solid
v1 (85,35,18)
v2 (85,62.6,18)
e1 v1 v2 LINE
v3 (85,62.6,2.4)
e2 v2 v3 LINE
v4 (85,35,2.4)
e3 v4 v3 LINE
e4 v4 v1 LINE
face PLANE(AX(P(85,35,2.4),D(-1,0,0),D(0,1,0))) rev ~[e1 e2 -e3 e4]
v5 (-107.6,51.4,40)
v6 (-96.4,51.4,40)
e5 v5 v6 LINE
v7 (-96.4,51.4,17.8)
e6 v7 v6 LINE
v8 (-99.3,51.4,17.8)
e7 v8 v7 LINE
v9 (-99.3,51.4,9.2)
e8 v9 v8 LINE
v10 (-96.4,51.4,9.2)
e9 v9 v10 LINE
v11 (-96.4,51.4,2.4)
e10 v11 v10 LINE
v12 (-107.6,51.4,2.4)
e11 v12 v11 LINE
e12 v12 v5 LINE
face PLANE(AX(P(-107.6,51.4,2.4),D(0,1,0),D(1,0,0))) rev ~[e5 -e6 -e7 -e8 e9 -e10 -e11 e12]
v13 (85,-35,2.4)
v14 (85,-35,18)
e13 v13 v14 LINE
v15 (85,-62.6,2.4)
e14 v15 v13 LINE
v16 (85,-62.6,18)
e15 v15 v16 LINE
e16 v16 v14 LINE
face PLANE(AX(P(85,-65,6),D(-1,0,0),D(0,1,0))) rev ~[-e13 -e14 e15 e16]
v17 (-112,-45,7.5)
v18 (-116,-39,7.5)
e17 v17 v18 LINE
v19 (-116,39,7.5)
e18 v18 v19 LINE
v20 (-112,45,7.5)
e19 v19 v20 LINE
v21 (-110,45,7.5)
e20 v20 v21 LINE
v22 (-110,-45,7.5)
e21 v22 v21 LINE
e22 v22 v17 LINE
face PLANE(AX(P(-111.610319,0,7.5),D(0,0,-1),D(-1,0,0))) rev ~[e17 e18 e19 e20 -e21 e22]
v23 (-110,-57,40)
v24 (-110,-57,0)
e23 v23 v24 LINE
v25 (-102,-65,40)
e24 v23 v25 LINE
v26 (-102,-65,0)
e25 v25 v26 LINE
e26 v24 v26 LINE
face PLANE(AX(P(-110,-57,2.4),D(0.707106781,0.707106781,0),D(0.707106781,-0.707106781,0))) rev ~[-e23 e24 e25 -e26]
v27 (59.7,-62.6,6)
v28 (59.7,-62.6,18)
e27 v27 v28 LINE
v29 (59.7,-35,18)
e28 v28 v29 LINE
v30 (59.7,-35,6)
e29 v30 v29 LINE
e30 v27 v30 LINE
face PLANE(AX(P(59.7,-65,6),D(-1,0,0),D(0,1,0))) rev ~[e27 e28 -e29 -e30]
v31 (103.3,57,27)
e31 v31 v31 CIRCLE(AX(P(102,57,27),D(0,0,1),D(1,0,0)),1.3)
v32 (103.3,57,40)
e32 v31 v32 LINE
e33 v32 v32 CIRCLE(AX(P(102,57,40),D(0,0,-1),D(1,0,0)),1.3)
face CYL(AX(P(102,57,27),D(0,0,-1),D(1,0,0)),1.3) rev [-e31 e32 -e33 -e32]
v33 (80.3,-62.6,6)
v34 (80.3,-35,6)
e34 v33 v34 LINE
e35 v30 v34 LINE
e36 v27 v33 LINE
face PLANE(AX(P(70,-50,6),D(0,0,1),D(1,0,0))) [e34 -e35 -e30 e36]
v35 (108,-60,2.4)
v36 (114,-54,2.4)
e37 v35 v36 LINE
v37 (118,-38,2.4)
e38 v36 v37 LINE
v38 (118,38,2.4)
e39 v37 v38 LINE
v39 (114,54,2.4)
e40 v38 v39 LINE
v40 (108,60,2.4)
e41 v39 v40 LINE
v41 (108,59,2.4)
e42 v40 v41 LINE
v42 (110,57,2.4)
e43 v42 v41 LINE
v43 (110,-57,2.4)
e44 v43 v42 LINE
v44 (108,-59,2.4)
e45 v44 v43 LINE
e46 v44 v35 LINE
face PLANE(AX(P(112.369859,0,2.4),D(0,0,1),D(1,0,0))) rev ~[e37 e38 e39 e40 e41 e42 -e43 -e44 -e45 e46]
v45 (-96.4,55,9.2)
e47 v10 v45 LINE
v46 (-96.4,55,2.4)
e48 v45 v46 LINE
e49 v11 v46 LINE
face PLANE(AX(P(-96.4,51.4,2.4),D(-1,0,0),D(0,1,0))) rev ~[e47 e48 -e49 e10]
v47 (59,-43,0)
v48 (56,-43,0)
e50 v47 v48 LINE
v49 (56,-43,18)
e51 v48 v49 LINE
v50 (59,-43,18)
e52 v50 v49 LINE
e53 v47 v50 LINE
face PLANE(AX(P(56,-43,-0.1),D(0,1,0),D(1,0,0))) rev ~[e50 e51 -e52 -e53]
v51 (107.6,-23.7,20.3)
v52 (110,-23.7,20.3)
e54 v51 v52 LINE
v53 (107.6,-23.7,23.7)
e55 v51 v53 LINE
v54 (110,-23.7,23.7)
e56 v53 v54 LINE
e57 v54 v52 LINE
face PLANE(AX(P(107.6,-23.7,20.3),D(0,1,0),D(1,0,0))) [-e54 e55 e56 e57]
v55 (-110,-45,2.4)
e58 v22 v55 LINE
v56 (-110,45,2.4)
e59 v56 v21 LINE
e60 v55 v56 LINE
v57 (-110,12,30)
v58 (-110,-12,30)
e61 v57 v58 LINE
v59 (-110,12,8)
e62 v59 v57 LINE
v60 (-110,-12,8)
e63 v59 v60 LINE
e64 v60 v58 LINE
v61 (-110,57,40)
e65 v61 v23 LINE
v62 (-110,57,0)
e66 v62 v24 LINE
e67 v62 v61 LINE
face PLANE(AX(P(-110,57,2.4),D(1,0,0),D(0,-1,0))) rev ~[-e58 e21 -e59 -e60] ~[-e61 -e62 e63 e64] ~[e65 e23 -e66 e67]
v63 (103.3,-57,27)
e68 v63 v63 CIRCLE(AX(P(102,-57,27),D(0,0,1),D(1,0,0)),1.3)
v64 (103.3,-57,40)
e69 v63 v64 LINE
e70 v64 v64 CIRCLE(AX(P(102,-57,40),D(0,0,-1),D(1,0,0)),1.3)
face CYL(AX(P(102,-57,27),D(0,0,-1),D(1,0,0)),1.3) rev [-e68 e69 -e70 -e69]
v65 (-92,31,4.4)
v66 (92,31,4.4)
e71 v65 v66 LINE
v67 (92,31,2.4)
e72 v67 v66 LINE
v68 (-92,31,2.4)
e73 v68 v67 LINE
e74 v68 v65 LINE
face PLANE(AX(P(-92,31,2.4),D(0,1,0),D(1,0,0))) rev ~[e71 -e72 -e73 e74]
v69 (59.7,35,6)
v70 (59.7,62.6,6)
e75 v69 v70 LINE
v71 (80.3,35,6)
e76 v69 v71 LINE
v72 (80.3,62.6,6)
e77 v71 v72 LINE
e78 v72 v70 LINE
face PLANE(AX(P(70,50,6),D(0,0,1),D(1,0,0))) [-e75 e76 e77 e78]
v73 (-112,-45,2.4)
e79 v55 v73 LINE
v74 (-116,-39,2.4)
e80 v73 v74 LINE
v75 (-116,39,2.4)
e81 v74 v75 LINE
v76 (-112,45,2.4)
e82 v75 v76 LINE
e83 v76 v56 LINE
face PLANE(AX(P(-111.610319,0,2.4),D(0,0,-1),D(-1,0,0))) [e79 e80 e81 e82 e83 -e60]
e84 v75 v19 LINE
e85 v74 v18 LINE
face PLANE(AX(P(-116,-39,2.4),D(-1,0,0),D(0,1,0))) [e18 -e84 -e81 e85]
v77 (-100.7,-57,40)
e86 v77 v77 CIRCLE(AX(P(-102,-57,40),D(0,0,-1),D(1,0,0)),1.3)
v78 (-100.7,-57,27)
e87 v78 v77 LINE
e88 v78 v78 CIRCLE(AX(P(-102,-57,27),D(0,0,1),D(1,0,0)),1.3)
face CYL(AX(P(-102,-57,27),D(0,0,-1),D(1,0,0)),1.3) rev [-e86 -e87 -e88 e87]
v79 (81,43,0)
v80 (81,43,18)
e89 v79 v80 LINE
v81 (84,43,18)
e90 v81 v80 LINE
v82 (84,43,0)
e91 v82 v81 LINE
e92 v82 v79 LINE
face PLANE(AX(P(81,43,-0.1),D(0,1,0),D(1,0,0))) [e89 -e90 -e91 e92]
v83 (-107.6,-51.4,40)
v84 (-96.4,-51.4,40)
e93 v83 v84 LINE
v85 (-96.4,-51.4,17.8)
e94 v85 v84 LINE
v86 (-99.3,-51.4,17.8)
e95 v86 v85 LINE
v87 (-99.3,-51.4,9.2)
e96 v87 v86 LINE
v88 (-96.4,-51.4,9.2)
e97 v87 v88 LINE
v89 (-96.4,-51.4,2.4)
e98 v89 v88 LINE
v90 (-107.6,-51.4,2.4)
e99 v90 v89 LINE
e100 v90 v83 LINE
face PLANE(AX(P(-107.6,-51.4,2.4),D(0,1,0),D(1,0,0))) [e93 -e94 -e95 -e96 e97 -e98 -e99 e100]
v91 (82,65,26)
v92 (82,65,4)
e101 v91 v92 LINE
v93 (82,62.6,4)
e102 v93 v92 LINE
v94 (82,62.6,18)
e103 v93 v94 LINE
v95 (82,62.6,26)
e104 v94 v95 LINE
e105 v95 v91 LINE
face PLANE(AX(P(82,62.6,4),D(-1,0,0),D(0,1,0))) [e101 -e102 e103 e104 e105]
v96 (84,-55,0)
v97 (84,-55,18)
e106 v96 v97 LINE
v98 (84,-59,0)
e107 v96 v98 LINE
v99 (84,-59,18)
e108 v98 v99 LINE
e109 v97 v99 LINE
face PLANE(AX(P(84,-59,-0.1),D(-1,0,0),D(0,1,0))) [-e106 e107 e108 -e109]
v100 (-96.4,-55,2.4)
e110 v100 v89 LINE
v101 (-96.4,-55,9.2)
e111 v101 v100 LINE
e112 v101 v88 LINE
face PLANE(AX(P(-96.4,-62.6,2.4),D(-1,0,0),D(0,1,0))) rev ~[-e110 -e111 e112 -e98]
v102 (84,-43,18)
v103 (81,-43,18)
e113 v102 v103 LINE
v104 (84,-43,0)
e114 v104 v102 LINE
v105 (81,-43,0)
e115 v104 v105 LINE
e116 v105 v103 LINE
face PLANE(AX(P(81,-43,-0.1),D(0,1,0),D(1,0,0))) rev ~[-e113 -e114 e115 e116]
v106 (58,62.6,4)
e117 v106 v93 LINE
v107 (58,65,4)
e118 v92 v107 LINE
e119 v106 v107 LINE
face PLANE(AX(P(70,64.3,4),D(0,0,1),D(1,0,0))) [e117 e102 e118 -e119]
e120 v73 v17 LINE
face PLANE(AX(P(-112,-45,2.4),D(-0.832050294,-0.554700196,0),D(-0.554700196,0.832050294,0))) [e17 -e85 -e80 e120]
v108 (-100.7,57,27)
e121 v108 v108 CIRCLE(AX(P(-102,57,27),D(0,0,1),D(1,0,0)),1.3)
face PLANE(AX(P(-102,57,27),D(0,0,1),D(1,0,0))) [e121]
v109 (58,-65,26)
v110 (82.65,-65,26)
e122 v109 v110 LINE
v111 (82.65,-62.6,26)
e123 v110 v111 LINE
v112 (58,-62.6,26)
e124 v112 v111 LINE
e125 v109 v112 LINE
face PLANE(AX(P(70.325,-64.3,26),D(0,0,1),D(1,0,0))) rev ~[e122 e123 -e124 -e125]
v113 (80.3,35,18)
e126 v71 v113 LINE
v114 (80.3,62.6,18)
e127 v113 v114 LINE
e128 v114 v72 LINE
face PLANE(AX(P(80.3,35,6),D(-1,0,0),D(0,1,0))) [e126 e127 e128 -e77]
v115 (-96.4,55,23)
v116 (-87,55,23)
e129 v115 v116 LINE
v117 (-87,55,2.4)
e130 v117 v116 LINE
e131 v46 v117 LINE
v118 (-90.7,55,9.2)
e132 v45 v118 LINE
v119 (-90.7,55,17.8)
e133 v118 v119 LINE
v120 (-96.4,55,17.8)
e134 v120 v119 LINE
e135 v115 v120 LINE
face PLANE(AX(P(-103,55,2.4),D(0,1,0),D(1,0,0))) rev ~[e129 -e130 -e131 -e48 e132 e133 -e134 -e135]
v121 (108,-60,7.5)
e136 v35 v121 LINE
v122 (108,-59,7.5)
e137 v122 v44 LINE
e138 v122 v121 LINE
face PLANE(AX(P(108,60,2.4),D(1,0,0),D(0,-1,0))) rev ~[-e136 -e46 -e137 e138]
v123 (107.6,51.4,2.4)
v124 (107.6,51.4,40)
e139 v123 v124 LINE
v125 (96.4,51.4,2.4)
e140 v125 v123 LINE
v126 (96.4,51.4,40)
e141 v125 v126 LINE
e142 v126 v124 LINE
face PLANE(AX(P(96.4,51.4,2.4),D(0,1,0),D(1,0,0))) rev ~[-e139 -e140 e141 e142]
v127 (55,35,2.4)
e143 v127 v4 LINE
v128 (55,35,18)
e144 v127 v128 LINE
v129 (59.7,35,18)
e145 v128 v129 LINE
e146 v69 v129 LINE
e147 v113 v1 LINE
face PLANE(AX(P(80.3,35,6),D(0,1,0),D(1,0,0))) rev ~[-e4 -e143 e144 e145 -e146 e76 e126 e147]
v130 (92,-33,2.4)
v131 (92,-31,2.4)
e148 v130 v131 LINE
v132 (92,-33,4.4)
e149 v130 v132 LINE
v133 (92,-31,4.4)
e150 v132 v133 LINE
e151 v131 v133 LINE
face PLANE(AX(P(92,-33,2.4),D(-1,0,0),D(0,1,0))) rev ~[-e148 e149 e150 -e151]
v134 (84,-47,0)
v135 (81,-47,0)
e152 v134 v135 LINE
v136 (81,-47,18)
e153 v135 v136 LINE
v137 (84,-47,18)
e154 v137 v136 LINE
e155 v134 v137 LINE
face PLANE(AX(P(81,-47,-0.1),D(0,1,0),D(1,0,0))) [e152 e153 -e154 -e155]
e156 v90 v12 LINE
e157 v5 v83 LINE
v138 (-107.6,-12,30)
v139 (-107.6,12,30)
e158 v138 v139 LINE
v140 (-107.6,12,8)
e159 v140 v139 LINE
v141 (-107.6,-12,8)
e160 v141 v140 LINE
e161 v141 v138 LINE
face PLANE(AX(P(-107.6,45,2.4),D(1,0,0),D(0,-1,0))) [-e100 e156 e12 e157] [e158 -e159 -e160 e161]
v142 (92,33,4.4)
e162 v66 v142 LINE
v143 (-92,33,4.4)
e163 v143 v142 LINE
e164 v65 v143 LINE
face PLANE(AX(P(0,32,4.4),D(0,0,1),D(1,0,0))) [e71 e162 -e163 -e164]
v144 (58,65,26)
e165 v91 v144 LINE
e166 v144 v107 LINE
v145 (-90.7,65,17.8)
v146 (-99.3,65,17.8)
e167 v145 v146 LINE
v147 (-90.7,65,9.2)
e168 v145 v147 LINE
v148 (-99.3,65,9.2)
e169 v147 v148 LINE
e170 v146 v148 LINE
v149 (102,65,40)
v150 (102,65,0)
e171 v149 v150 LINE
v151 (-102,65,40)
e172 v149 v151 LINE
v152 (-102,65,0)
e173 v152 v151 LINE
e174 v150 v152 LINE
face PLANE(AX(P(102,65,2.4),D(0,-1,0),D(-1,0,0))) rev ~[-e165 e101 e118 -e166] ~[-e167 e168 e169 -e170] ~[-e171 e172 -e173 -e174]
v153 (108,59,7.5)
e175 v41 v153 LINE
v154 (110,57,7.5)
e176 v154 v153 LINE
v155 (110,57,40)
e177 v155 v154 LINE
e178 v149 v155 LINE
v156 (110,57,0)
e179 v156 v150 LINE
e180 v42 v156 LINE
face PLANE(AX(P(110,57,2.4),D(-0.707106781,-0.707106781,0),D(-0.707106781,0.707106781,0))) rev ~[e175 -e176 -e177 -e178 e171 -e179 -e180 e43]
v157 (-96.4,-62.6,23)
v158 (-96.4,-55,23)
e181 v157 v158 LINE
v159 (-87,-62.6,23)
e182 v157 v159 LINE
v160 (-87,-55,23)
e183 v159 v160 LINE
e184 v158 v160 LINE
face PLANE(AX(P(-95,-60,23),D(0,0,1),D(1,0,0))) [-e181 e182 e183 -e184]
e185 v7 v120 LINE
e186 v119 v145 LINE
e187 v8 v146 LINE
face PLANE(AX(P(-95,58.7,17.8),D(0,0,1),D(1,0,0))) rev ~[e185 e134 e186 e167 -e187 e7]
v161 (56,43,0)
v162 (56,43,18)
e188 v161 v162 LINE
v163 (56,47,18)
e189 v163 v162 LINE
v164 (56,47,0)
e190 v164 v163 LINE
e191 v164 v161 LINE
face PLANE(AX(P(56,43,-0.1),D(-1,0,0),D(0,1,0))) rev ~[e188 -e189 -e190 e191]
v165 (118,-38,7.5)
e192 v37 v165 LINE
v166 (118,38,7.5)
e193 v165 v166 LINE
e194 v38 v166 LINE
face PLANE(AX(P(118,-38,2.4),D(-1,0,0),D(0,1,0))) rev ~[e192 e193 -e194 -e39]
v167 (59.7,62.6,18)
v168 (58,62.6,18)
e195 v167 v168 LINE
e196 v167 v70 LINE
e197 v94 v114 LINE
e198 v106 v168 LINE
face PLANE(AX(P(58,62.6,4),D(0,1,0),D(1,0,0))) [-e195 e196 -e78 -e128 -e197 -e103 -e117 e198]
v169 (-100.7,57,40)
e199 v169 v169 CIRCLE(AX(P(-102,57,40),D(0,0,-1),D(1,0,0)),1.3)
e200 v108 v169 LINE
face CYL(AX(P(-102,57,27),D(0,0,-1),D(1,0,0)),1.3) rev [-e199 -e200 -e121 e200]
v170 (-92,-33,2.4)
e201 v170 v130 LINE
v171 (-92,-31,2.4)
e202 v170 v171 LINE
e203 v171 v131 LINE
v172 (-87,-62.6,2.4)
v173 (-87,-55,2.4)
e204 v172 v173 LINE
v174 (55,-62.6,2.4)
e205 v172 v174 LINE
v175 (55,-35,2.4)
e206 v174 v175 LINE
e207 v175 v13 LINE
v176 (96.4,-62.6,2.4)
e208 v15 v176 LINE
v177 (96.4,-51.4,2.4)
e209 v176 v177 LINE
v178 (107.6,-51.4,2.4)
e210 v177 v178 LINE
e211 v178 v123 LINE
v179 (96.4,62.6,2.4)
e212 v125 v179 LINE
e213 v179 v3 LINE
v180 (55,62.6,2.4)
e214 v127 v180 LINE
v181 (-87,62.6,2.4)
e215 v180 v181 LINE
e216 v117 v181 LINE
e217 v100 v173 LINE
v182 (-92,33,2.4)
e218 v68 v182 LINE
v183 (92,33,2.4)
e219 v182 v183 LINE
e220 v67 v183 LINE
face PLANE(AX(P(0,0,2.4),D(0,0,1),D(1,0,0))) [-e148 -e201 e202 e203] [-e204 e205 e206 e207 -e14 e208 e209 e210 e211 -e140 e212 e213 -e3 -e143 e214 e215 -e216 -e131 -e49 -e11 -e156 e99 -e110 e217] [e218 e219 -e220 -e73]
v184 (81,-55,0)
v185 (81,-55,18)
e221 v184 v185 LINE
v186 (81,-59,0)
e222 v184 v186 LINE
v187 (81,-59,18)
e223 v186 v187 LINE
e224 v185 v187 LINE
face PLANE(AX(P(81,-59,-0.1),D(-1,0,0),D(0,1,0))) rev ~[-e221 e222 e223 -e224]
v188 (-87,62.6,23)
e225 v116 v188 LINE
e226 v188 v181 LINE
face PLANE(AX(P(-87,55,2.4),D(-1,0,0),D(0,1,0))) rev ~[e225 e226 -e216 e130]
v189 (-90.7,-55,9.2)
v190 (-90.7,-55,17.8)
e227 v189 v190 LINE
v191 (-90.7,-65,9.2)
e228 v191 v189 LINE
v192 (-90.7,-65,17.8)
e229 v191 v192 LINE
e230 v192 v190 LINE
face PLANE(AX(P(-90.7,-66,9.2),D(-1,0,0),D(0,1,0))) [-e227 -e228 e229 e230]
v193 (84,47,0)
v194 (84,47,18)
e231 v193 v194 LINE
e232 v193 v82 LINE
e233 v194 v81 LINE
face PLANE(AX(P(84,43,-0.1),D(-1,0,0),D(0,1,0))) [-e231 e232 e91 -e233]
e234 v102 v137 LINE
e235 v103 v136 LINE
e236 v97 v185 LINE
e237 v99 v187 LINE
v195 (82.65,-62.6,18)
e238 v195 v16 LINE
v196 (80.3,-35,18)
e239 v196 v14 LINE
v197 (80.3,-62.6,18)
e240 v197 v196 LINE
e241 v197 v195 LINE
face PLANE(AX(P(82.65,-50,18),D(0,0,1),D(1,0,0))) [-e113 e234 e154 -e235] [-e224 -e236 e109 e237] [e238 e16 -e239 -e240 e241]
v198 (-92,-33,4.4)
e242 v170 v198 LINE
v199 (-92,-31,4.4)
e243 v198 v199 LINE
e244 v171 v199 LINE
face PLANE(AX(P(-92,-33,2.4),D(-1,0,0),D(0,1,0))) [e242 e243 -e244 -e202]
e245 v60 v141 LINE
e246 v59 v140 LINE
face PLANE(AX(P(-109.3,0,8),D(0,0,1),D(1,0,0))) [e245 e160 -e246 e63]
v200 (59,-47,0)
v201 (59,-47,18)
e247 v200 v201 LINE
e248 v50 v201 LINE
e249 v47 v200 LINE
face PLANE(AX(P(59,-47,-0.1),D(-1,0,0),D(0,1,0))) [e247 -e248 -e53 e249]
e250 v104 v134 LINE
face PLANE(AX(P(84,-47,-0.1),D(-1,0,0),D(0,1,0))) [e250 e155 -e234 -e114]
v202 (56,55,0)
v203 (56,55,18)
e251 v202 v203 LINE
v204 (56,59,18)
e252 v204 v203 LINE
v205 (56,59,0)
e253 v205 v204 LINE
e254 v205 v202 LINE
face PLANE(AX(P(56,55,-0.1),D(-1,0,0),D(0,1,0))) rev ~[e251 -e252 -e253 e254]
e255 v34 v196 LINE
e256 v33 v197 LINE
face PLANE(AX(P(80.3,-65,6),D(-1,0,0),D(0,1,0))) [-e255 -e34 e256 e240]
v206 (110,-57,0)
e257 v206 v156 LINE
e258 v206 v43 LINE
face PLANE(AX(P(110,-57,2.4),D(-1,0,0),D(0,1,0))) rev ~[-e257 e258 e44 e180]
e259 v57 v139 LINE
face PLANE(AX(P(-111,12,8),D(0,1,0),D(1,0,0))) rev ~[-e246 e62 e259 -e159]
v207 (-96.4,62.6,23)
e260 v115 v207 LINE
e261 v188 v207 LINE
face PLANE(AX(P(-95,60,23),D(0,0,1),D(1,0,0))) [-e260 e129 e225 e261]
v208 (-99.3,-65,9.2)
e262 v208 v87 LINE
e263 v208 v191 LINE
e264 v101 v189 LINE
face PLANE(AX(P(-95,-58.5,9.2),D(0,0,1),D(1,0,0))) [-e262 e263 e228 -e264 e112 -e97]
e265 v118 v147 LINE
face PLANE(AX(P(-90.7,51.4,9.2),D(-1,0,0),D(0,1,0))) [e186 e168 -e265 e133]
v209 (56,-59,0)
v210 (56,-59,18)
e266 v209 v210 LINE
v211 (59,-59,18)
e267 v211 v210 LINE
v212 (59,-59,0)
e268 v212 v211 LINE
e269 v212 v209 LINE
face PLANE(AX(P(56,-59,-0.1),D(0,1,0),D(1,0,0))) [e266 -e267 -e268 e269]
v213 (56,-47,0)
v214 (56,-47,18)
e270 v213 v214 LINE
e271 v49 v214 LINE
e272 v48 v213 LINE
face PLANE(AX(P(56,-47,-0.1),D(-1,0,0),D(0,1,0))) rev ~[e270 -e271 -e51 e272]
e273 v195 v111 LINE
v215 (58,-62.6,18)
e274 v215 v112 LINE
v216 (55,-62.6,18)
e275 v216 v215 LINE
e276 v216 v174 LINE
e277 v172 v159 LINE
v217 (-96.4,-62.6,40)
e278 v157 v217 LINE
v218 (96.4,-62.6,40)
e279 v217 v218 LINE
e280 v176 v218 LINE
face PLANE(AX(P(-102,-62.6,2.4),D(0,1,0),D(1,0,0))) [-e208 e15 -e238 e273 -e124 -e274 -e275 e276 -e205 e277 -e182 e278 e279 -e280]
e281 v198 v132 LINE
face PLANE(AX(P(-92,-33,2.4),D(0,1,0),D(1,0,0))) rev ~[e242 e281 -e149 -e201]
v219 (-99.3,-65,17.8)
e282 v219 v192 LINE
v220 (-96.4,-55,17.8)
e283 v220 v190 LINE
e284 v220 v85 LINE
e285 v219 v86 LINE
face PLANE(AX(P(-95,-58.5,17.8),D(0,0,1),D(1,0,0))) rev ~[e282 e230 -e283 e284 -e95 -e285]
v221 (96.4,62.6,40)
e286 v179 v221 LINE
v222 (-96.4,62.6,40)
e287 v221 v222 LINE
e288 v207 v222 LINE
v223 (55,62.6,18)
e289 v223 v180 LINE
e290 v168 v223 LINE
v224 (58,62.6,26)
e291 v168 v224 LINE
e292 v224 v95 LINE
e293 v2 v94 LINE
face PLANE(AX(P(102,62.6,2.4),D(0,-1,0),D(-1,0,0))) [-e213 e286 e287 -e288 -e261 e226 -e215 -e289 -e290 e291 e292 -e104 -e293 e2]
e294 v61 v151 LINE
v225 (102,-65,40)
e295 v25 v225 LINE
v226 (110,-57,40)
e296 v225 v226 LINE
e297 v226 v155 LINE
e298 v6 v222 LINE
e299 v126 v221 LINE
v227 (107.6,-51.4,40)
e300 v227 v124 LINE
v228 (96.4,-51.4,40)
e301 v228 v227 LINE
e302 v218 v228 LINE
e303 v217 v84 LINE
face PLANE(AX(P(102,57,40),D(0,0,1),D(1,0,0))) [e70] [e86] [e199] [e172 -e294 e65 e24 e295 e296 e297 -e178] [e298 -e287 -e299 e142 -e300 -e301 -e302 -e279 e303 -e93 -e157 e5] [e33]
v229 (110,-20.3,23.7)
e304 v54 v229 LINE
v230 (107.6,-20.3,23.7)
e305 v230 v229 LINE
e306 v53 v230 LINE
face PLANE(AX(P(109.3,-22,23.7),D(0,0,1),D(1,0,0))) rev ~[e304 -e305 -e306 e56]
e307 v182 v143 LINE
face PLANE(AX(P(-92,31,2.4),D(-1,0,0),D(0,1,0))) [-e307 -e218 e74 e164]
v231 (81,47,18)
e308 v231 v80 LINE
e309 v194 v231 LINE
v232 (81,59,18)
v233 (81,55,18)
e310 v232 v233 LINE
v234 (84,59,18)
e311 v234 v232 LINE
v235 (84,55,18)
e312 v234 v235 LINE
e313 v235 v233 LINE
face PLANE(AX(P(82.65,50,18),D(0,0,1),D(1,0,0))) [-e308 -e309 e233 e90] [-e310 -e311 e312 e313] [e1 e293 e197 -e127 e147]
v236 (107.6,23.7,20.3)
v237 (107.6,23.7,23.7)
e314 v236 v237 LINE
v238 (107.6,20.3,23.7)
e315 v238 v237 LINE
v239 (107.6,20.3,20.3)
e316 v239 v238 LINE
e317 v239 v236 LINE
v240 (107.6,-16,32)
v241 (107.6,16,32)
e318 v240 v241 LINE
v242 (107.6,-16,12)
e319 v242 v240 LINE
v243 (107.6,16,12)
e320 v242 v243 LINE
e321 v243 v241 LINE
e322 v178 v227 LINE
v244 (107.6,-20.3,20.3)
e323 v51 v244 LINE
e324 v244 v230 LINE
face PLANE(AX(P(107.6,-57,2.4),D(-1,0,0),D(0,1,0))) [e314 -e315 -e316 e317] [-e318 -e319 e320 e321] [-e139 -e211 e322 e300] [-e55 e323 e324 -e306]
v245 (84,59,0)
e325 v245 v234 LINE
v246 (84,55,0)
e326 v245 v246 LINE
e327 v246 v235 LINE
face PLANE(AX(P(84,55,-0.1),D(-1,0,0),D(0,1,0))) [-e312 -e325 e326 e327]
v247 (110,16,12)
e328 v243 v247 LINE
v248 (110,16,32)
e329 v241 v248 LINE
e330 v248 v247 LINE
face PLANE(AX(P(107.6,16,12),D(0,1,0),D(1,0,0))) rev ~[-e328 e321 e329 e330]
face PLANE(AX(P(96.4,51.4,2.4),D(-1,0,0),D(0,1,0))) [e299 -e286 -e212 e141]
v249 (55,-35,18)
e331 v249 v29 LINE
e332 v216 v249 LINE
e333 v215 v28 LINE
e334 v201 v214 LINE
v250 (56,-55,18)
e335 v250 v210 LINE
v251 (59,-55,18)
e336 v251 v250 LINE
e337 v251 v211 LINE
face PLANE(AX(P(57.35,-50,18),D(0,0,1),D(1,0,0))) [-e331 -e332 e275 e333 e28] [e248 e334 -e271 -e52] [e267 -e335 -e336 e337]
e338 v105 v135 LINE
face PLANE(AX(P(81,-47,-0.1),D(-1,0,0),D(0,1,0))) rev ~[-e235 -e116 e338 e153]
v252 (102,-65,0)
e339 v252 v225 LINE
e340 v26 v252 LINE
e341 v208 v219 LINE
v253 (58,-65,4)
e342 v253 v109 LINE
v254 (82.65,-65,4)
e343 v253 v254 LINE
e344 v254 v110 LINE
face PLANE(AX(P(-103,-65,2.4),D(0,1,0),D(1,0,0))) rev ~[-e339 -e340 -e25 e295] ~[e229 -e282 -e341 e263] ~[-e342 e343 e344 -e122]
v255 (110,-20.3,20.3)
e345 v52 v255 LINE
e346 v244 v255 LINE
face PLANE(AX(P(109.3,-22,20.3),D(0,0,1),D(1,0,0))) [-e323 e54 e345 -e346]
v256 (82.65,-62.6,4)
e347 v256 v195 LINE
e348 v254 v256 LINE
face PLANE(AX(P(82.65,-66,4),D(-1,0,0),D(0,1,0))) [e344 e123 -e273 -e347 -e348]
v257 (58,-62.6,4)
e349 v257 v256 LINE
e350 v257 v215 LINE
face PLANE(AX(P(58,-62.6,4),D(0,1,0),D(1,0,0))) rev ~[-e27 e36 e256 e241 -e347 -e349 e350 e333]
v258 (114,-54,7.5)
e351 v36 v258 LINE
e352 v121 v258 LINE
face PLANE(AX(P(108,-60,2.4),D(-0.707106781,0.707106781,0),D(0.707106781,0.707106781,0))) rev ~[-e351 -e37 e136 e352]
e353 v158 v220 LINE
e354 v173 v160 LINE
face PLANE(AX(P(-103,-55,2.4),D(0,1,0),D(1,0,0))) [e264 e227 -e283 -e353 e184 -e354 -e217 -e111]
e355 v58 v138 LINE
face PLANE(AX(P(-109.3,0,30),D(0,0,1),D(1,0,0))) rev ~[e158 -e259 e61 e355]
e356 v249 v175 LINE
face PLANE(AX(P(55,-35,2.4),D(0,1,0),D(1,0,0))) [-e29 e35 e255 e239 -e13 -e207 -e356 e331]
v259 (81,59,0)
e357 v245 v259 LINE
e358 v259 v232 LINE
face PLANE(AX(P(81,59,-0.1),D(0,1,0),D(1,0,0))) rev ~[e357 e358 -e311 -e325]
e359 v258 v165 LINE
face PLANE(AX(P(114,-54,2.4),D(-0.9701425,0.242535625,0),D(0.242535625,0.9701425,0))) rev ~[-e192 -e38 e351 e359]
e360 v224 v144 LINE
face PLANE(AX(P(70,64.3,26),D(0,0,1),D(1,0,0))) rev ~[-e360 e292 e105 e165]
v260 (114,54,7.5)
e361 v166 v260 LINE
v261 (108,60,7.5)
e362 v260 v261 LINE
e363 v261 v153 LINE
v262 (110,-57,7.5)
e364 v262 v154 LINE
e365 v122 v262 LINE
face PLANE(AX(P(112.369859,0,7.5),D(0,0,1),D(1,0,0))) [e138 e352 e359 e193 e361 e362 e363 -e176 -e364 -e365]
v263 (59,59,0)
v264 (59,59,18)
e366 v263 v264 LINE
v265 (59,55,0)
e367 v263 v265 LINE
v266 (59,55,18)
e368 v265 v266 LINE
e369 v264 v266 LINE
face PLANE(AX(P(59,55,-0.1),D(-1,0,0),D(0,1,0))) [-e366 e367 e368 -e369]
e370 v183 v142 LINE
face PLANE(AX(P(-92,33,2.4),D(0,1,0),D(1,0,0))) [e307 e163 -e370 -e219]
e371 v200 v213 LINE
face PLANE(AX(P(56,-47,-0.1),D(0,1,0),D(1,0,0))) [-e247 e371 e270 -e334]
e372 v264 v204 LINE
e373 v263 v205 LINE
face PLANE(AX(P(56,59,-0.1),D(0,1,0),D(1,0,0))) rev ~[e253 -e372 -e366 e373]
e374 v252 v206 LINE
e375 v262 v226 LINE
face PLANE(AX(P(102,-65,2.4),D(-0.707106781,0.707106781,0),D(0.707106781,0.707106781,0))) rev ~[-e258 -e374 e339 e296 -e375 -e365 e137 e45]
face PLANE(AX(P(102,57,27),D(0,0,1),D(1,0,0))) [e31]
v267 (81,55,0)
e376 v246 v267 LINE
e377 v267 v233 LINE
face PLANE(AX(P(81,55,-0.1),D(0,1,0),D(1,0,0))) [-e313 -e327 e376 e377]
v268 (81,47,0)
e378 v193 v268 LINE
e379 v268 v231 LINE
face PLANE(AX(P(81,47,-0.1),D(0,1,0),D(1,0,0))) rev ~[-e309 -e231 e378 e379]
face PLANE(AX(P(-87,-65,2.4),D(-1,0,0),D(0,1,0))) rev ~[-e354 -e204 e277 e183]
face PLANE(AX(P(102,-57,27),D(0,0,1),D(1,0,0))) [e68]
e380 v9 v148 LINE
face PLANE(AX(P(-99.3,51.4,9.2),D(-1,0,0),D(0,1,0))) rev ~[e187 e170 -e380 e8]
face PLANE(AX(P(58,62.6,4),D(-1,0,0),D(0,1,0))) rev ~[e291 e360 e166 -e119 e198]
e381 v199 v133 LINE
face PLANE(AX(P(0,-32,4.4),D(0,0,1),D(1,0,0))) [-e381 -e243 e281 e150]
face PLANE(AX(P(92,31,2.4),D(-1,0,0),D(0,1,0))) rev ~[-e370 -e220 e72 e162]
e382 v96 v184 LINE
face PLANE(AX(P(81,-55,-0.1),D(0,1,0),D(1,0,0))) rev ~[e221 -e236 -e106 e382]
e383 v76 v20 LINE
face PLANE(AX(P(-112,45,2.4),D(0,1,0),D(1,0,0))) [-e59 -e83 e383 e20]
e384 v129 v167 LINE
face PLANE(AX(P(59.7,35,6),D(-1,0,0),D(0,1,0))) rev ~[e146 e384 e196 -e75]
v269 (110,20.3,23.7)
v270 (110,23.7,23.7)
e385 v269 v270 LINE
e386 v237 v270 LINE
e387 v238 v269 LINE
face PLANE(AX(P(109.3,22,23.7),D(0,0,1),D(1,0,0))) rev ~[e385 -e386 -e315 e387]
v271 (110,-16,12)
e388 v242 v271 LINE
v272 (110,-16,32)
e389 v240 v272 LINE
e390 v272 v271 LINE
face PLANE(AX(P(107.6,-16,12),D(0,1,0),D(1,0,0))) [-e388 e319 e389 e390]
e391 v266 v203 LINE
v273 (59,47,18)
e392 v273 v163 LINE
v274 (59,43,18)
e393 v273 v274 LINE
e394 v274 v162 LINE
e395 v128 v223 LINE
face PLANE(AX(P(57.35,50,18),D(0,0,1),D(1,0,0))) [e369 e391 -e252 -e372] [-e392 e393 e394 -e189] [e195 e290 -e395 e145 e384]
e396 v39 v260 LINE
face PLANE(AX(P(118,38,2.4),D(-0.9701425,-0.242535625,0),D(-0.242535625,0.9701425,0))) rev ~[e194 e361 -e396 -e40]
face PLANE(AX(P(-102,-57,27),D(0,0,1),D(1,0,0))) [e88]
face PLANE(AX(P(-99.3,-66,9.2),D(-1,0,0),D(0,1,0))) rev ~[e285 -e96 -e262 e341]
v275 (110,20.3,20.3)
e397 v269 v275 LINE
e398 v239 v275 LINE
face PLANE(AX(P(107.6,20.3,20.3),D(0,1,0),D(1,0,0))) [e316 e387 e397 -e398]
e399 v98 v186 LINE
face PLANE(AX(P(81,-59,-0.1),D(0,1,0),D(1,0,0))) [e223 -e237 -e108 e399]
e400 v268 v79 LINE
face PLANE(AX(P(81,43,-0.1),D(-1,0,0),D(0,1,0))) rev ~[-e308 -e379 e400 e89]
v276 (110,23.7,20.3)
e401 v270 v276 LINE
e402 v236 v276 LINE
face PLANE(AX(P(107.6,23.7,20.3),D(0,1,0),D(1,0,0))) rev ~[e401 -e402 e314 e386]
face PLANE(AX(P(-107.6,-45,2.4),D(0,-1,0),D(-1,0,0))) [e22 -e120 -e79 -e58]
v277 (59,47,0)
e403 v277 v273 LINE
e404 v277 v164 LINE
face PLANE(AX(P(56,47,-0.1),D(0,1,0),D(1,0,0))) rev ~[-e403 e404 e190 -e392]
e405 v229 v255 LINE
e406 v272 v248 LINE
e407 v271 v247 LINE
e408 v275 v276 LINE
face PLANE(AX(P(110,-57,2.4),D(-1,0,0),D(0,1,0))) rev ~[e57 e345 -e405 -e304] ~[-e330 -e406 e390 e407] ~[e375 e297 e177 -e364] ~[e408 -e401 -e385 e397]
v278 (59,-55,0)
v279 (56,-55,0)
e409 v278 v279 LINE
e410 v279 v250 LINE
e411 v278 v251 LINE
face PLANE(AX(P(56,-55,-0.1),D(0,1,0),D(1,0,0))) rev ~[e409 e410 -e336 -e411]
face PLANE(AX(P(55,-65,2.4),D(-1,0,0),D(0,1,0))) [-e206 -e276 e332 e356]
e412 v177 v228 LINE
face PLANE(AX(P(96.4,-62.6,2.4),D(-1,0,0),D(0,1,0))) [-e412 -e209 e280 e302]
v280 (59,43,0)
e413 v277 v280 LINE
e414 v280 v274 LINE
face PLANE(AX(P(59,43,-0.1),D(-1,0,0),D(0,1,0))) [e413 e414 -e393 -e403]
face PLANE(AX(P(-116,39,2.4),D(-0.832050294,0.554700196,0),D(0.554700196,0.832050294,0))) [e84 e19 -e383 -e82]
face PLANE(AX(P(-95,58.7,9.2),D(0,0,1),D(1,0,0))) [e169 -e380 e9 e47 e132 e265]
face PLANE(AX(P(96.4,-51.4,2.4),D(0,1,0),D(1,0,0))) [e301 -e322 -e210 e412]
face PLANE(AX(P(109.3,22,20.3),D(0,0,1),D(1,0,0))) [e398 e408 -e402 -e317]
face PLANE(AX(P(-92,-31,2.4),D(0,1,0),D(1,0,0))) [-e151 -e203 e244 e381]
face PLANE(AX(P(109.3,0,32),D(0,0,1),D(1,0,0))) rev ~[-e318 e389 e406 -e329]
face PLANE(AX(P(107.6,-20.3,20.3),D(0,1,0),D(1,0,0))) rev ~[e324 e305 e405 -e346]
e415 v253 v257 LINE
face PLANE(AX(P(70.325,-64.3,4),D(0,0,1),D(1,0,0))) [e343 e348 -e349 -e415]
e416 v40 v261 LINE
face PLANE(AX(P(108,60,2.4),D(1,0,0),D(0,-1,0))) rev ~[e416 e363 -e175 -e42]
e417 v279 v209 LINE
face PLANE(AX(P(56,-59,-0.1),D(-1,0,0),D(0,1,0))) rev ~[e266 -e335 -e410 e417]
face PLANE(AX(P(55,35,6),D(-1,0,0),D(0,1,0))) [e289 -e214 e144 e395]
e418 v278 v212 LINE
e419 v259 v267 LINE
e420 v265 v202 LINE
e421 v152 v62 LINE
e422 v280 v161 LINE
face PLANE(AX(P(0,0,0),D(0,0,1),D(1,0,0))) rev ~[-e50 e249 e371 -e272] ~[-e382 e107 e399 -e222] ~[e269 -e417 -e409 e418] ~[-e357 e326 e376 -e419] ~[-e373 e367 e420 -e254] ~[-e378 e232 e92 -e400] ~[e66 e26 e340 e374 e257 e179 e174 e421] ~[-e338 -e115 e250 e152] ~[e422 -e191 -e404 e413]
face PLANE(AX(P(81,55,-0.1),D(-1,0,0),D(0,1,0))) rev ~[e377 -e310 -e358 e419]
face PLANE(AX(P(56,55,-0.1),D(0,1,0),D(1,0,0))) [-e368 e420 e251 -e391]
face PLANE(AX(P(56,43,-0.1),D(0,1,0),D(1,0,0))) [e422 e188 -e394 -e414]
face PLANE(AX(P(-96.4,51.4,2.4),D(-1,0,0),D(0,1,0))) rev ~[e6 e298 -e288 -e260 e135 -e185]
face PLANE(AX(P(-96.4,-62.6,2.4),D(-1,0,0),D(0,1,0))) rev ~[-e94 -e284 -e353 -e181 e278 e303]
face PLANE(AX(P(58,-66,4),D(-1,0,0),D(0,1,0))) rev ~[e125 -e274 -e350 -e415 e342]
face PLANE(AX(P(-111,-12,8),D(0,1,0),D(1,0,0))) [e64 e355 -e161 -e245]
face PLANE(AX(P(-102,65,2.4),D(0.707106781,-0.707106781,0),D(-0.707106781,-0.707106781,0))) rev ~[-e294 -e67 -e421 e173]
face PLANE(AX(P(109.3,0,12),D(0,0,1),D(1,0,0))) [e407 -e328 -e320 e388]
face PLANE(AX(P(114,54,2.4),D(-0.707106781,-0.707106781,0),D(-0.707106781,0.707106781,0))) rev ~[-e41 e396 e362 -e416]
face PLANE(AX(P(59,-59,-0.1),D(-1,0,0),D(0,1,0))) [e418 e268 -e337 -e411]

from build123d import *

# Parameters (mm, degrees)
FACETED_FLOOR_220X130_DEPTH             = 2.4
FACETED_HOLLOW_WALLS_2P4_START          = 2.4
FACETED_HOLLOW_WALLS_2P4_DEPTH          = 37.6
LID_POST_1_1_START                      = 2.4
SKETCH3_W                               = 11.2
SKETCH3_H                               = 11.2
LID_POST_1_1_DEPTH                      = 37.6
M3_PILOT_1_1_START                      = 27
SKETCH4_R                               = 1.3
M3_PILOT_1_1_DEPTH                      = 14
SKETCH5_W                               = 11.2
SKETCH5_H                               = 11.2
LID_POST_1_1_2_DEPTH                    = 37.6
SKETCH6_R                               = 1.3
M3_PILOT_1_1_2_DEPTH                    = 14
SKETCH7_W                               = 11.2
SKETCH7_H                               = 11.2
LID_POST_1_1_3_DEPTH                    = 37.6
SKETCH8_R                               = 1.3
M3_PILOT_1_1_3_DEPTH                    = 14
SKETCH9_W                               = 11.2
SKETCH9_H                               = 11.2
LID_POST_1_1_4_DEPTH                    = 37.6
SKETCH10_R                              = 1.3
M3_PILOT_1_1_4_DEPTH                    = 14
MOTOR_SADDLE_BASE_1_START               = 2.4
SKETCH11_W                              = 30
SKETCH11_H                              = 30
MOTOR_SADDLE_BASE_1_DEPTH               = 3.6
MOTOR_GUIDE_A_1_START                   = 6
SKETCH12_W                              = 4.7
SKETCH12_H                              = 30
MOTOR_GUIDE_A_1_DEPTH                   = 12
MOTOR_GUIDE_B_1_START                   = 6
SKETCH13_W                              = 4.7
SKETCH13_H                              = 30
MOTOR_GUIDE_B_1_DEPTH                   = 12
TIESLOT_1_56_43_START                   = -0.1
SKETCH14_W                              = 3
SKETCH14_H                              = 4
TIESLOT_1_56_43_DEPTH                   = 19
TIESLOT_1_81_43_START                   = -0.1
SKETCH15_W                              = 3
SKETCH15_H                              = 4
TIESLOT_1_81_43_DEPTH                   = 19
TIESLOT_1_56_55_START                   = -0.1
SKETCH16_W                              = 3
SKETCH16_H                              = 4
TIESLOT_1_56_55_DEPTH                   = 19
TIESLOT_1_81_55_START                   = -0.1
SKETCH17_W                              = 3
SKETCH17_H                              = 4
TIESLOT_1_81_55_DEPTH                   = 19
MOTOR_SIDE_WINDOW_1_START               = 4
SKETCH18_W                              = 24.65
SKETCH18_H                              = 3.4
MOTOR_SIDE_WINDOW_1_DEPTH               = 22
REAR_AXLE_SUPPORT_1_START               = 2.4
SKETCH19_W                              = 16
SKETCH19_H                              = 10
REAR_AXLE_SUPPORT_1_DEPTH               = 20.6
REAR_PRINTED_AXLE_CLEARANCE_8P6_1_START = 9.2
SKETCH20_W                              = 8.6
SKETCH20_H                              = 15
REAR_PRINTED_AXLE_CLEARANCE_8P6_1_DEPTH = 8.6
SKETCH21_W                              = 30
SKETCH21_H                              = 30
MOTOR_SADDLE_BASE_1_2_DEPTH             = 3.6
SKETCH22_W                              = 4.7
SKETCH22_H                              = 30
MOTOR_GUIDE_A_1_2_DEPTH                 = 12
SKETCH23_W                              = 4.7
SKETCH23_H                              = 30
MOTOR_GUIDE_B_1_2_DEPTH                 = 12
SKETCH24_W                              = 3
SKETCH24_H                              = 4
TIESLOT_1_56_43_2_DEPTH                 = 19
SKETCH25_W                              = 3
SKETCH25_H                              = 4
TIESLOT_1_81_43_2_DEPTH                 = 19
SKETCH26_W                              = 3
SKETCH26_H                              = 4
TIESLOT_1_56_55_2_DEPTH                 = 19
SKETCH27_W                              = 3
SKETCH27_H                              = 4
TIESLOT_1_81_55_2_DEPTH                 = 19
SKETCH28_W                              = 24
SKETCH28_H                              = 3.4
MOTOR_SIDE_WINDOW_1_2_DEPTH             = 22
SKETCH29_W                              = 16
SKETCH29_H                              = 10
REAR_AXLE_SUPPORT_1_2_DEPTH             = 20.6
REAR_PRINTED_AXLE_CLEARANCE_8P61_START  = 9.2
SKETCH30_W                              = 8.6
SKETCH30_H                              = 14.6
REAR_PRINTED_AXLE_CLEARANCE_8P61_DEPTH  = 8.6
REAR_USB_ACCESS_24X22_START             = 8
SKETCH31_W                              = 3.4
SKETCH31_H                              = 24
REAR_USB_ACCESS_24X22_DEPTH             = 22
FRONT_TOF_WINDOW_32X20_START            = 12
SKETCH32_W                              = 3.4
SKETCH32_H                              = 32
FRONT_TOF_WINDOW_32X20_DEPTH            = 20
TOF_M3_CLEARANCE_1_START                = 20.3
SKETCH33_W                              = 3.4
SKETCH33_H                              = 3.4
TOF_M3_CLEARANCE_1_DEPTH                = 3.4
SKETCH34_W                              = 3.4
SKETCH34_H                              = 3.4
TOF_M3_CLEARANCE_1_2_DEPTH              = 3.4
BREADBOARD_LEFT_GUIDE_START             = 2.4
SKETCH35_W                              = 184
SKETCH35_H                              = 2
BREADBOARD_LEFT_GUIDE_DEPTH             = 2
BREADBOARD_RIGHT_GUIDE_START            = 2.4
SKETCH36_W                              = 184
SKETCH36_H                              = 2
BREADBOARD_RIGHT_GUIDE_DEPTH            = 2
OUTER_CORNER_TRIM_1_1_START             = 0.1
OUTER_CORNER_TRIM_1_1_DEPTH             = 40.2
OUTER_CORNER_TRIM_1_1_2_DEPTH           = 40.2
OUTER_CORNER_TRIM_1_1_3_DEPTH           = 40.2
OUTER_CORNER_TRIM_1_1_4_DEPTH           = 40.2
ANGLED_FRONT_BUMPER_START               = 2.4
ANGLED_FRONT_BUMPER_DEPTH               = 5.1
ANGLED_REAR_BUMPER_START                = 2.4
ANGLED_REAR_BUMPER_DEPTH                = 5.1


with BuildPart() as part:
    # Sketch1 → Faceted_Floor_220x130 (new body)
    with BuildSketch(Plane.XY):
        Polygon((-102, -65), (102, -65), (110, -57), (110, 57), (102, 65), (-102, 65), (-110, 57), (-110, -57), align=None)
    extrude(amount=FACETED_FLOOR_220X130_DEPTH)

    # Sketch2 → Faceted_Hollow_Walls_2p4 (add)
    with BuildSketch(Plane.XY.offset(FACETED_HOLLOW_WALLS_2P4_START)):
        Polygon((-102, -65), (102, -65), (110, -57), (110, 57), (102, 65), (-102, 65), (-110, 57), (-110, -57), align=None)
        Polygon((-102, -62.6), (102, -62.6), (107.6, -57), (107.6, 57), (102, 62.6), (-102, 62.6), (-107.6, 57), (-107.6, -57), align=None, mode=Mode.SUBTRACT)
    extrude(amount=FACETED_HOLLOW_WALLS_2P4_DEPTH)

    # Sketch3 → Lid_Post_-1_-1 (add)
    with BuildSketch(Plane.XY.offset(LID_POST_1_1_START)):
        with Locations((-102, -57)):
            Rectangle(SKETCH3_W, SKETCH3_H)
    extrude(amount=LID_POST_1_1_DEPTH)

    # Sketch4 → M3_Pilot_-1_-1 (cut)
    with BuildSketch(Plane.XY.offset(M3_PILOT_1_1_START)):
        with Locations((-102, -57)):
            Circle(SKETCH4_R)
    extrude(amount=M3_PILOT_1_1_DEPTH, mode=Mode.SUBTRACT)

    # Sketch5 → Lid_Post_-1_1 2 (add)
    with BuildSketch(Plane.XY.offset(LID_POST_1_1_START)):
        with Locations((-102, 57)):
            Rectangle(SKETCH5_W, SKETCH5_H)
    extrude(amount=LID_POST_1_1_2_DEPTH)

    # Sketch6 → M3_Pilot_-1_1 2 (cut)
    with BuildSketch(Plane.XY.offset(M3_PILOT_1_1_START)):
        with Locations((-102, 57)):
            Circle(SKETCH6_R)
    extrude(amount=M3_PILOT_1_1_2_DEPTH, mode=Mode.SUBTRACT)

    # Sketch7 → Lid_Post_1_-1 3 (add)
    with BuildSketch(Plane.XY.offset(LID_POST_1_1_START)):
        with Locations((102, -57)):
            Rectangle(SKETCH7_W, SKETCH7_H)
    extrude(amount=LID_POST_1_1_3_DEPTH)

    # Sketch8 → M3_Pilot_1_-1 3 (cut)
    with BuildSketch(Plane.XY.offset(M3_PILOT_1_1_START)):
        with Locations((102, -57)):
            Circle(SKETCH8_R)
    extrude(amount=M3_PILOT_1_1_3_DEPTH, mode=Mode.SUBTRACT)

    # Sketch9 → Lid_Post_1_1 4 (add)
    with BuildSketch(Plane.XY.offset(LID_POST_1_1_START)):
        with Locations((102, 57)):
            Rectangle(SKETCH9_W, SKETCH9_H)
    extrude(amount=LID_POST_1_1_4_DEPTH)

    # Sketch10 → M3_Pilot_1_1 4 (cut)
    with BuildSketch(Plane.XY.offset(M3_PILOT_1_1_START)):
        with Locations((102, 57)):
            Circle(SKETCH10_R)
    extrude(amount=M3_PILOT_1_1_4_DEPTH, mode=Mode.SUBTRACT)

    # Sketch11 → Motor_Saddle_Base_-1 (add)
    with BuildSketch(Plane.XY.offset(MOTOR_SADDLE_BASE_1_START)):
        with Locations((70, -50)):
            Rectangle(SKETCH11_W, SKETCH11_H)
    extrude(amount=MOTOR_SADDLE_BASE_1_DEPTH)

    # Sketch12 → Motor_Guide_A_-1 (add)
    with BuildSketch(Plane.XY.offset(MOTOR_GUIDE_A_1_START)):
        with Locations((57.35, -50)):
            Rectangle(SKETCH12_W, SKETCH12_H)
    extrude(amount=MOTOR_GUIDE_A_1_DEPTH)

    # Sketch13 → Motor_Guide_B_-1 (add)
    with BuildSketch(Plane.XY.offset(MOTOR_GUIDE_B_1_START)):
        with Locations((82.65, -50)):
            Rectangle(SKETCH13_W, SKETCH13_H)
    extrude(amount=MOTOR_GUIDE_B_1_DEPTH)

    # Sketch14 → TieSlot_-1_56_43 (cut)
    with BuildSketch(Plane.XY.offset(TIESLOT_1_56_43_START)):
        with Locations((57.5, -45)):
            Rectangle(SKETCH14_W, SKETCH14_H)
    extrude(amount=TIESLOT_1_56_43_DEPTH, mode=Mode.SUBTRACT)

    # Sketch15 → TieSlot_-1_81_43 (cut)
    with BuildSketch(Plane.XY.offset(TIESLOT_1_81_43_START)):
        with Locations((82.5, -45)):
            Rectangle(SKETCH15_W, SKETCH15_H)
    extrude(amount=TIESLOT_1_81_43_DEPTH, mode=Mode.SUBTRACT)

    # Sketch16 → TieSlot_-1_56_55 (cut)
    with BuildSketch(Plane.XY.offset(TIESLOT_1_56_55_START)):
        with Locations((57.5, -57)):
            Rectangle(SKETCH16_W, SKETCH16_H)
    extrude(amount=TIESLOT_1_56_55_DEPTH, mode=Mode.SUBTRACT)

    # Sketch17 → TieSlot_-1_81_55 (cut)
    with BuildSketch(Plane.XY.offset(TIESLOT_1_81_55_START)):
        with Locations((82.5, -57)):
            Rectangle(SKETCH17_W, SKETCH17_H)
    extrude(amount=TIESLOT_1_81_55_DEPTH, mode=Mode.SUBTRACT)

    # Sketch18 → Motor_Side_Window_-1 (cut)
    with BuildSketch(Plane.XY.offset(MOTOR_SIDE_WINDOW_1_START)):
        with Locations((70.325, -64.3)):
            Rectangle(SKETCH18_W, SKETCH18_H)
    extrude(amount=MOTOR_SIDE_WINDOW_1_DEPTH, mode=Mode.SUBTRACT)

    # Sketch19 → Rear_Axle_Support_-1 (add)
    with BuildSketch(Plane.XY.offset(REAR_AXLE_SUPPORT_1_START)):
        with Locations((-95, -60)):
            Rectangle(SKETCH19_W, SKETCH19_H)
    extrude(amount=REAR_AXLE_SUPPORT_1_DEPTH)

    # Sketch20 → Rear_Printed_Axle_Clearance_8p6-1 (cut)
    with BuildSketch(Plane.XY.offset(REAR_PRINTED_AXLE_CLEARANCE_8P6_1_START)):
        with Locations((-95, -58.5)):
            Rectangle(SKETCH20_W, SKETCH20_H)
    extrude(amount=REAR_PRINTED_AXLE_CLEARANCE_8P6_1_DEPTH, mode=Mode.SUBTRACT)

    # Sketch21 → Motor_Saddle_Base_1 2 (add)
    with BuildSketch(Plane.XY.offset(MOTOR_SADDLE_BASE_1_START)):
        with Locations((70, 50)):
            Rectangle(SKETCH21_W, SKETCH21_H)
    extrude(amount=MOTOR_SADDLE_BASE_1_2_DEPTH)

    # Sketch22 → Motor_Guide_A_1 2 (add)
    with BuildSketch(Plane.XY.offset(MOTOR_GUIDE_A_1_START)):
        with Locations((57.35, 50)):
            Rectangle(SKETCH22_W, SKETCH22_H)
    extrude(amount=MOTOR_GUIDE_A_1_2_DEPTH)

    # Sketch23 → Motor_Guide_B_1 2 (add)
    with BuildSketch(Plane.XY.offset(MOTOR_GUIDE_B_1_START)):
        with Locations((82.65, 50)):
            Rectangle(SKETCH23_W, SKETCH23_H)
    extrude(amount=MOTOR_GUIDE_B_1_2_DEPTH)

    # Sketch24 → TieSlot_1_56_43 2 (cut)
    with BuildSketch(Plane.XY.offset(TIESLOT_1_56_43_START)):
        with Locations((57.5, 45)):
            Rectangle(SKETCH24_W, SKETCH24_H)
    extrude(amount=TIESLOT_1_56_43_2_DEPTH, mode=Mode.SUBTRACT)

    # Sketch25 → TieSlot_1_81_43 2 (cut)
    with BuildSketch(Plane.XY.offset(TIESLOT_1_81_43_START)):
        with Locations((82.5, 45)):
            Rectangle(SKETCH25_W, SKETCH25_H)
    extrude(amount=TIESLOT_1_81_43_2_DEPTH, mode=Mode.SUBTRACT)

    # Sketch26 → TieSlot_1_56_55 2 (cut)
    with BuildSketch(Plane.XY.offset(TIESLOT_1_56_55_START)):
        with Locations((57.5, 57)):
            Rectangle(SKETCH26_W, SKETCH26_H)
    extrude(amount=TIESLOT_1_56_55_2_DEPTH, mode=Mode.SUBTRACT)

    # Sketch27 → TieSlot_1_81_55 2 (cut)
    with BuildSketch(Plane.XY.offset(TIESLOT_1_81_55_START)):
        with Locations((82.5, 57)):
            Rectangle(SKETCH27_W, SKETCH27_H)
    extrude(amount=TIESLOT_1_81_55_2_DEPTH, mode=Mode.SUBTRACT)

    # Sketch28 → Motor_Side_Window_1 2 (cut)
    with BuildSketch(Plane.XY.offset(MOTOR_SIDE_WINDOW_1_START)):
        with Locations((70, 64.3)):
            Rectangle(SKETCH28_W, SKETCH28_H)
    extrude(amount=MOTOR_SIDE_WINDOW_1_2_DEPTH, mode=Mode.SUBTRACT)

    # Sketch29 → Rear_Axle_Support_1 2 (add)
    with BuildSketch(Plane.XY.offset(REAR_AXLE_SUPPORT_1_START)):
        with Locations((-95, 60)):
            Rectangle(SKETCH29_W, SKETCH29_H)
    extrude(amount=REAR_AXLE_SUPPORT_1_2_DEPTH)

    # Sketch30 → Rear_Printed_Axle_Clearance_8p61 (cut)
    with BuildSketch(Plane.XY.offset(REAR_PRINTED_AXLE_CLEARANCE_8P61_START)):
        with Locations((-95, 58.7)):
            Rectangle(SKETCH30_W, SKETCH30_H)
    extrude(amount=REAR_PRINTED_AXLE_CLEARANCE_8P61_DEPTH, mode=Mode.SUBTRACT)

    # Sketch31 → Rear_USB_Access_24x22 (cut)
    with BuildSketch(Plane.XY.offset(REAR_USB_ACCESS_24X22_START)):
        with Locations((-109.3, 0)):
            Rectangle(SKETCH31_W, SKETCH31_H)
    extrude(amount=REAR_USB_ACCESS_24X22_DEPTH, mode=Mode.SUBTRACT)

    # Sketch32 → Front_ToF_Window_32x20 (cut)
    with BuildSketch(Plane.XY.offset(FRONT_TOF_WINDOW_32X20_START)):
        with Locations((109.3, 0)):
            Rectangle(SKETCH32_W, SKETCH32_H)
    extrude(amount=FRONT_TOF_WINDOW_32X20_DEPTH, mode=Mode.SUBTRACT)

    # Sketch33 → ToF_M3_Clearance_-1 (cut)
    with BuildSketch(Plane.XY.offset(TOF_M3_CLEARANCE_1_START)):
        with Locations((109.3, -22)):
            Rectangle(SKETCH33_W, SKETCH33_H)
    extrude(amount=TOF_M3_CLEARANCE_1_DEPTH, mode=Mode.SUBTRACT)

    # Sketch34 → ToF_M3_Clearance_1 2 (cut)
    with BuildSketch(Plane.XY.offset(TOF_M3_CLEARANCE_1_START)):
        with Locations((109.3, 22)):
            Rectangle(SKETCH34_W, SKETCH34_H)
    extrude(amount=TOF_M3_CLEARANCE_1_2_DEPTH, mode=Mode.SUBTRACT)

    # Sketch35 → Breadboard_Left_Guide (add)
    with BuildSketch(Plane.XY.offset(BREADBOARD_LEFT_GUIDE_START)):
        with Locations((0, -32)):
            Rectangle(SKETCH35_W, SKETCH35_H)
    extrude(amount=BREADBOARD_LEFT_GUIDE_DEPTH)

    # Sketch36 → Breadboard_Right_Guide (add)
    with BuildSketch(Plane.XY.offset(BREADBOARD_RIGHT_GUIDE_START)):
        with Locations((0, 32)):
            Rectangle(SKETCH36_W, SKETCH36_H)
    extrude(amount=BREADBOARD_RIGHT_GUIDE_DEPTH)

    # Sketch37 → Outer_Corner_Trim_-1_-1 (cut)
    with BuildSketch(Plane.XY.offset(OUTER_CORNER_TRIM_1_1_START)):
        Polygon((-102, -65), (-110, -57), (-110, -65), align=None)
    extrude(amount=OUTER_CORNER_TRIM_1_1_DEPTH, mode=Mode.SUBTRACT)

    # Sketch38 → Outer_Corner_Trim_-1_1 2 (cut)
    with BuildSketch(Plane.XY.offset(OUTER_CORNER_TRIM_1_1_START)):
        Polygon((-102, 65), (-110, 57), (-110, 65), align=None)
    extrude(amount=OUTER_CORNER_TRIM_1_1_2_DEPTH, mode=Mode.SUBTRACT)

    # Sketch39 → Outer_Corner_Trim_1_-1 3 (cut)
    with BuildSketch(Plane.XY.offset(OUTER_CORNER_TRIM_1_1_START)):
        Polygon((102, -65), (110, -57), (110, -65), align=None)
    extrude(amount=OUTER_CORNER_TRIM_1_1_3_DEPTH, mode=Mode.SUBTRACT)

    # Sketch40 → Outer_Corner_Trim_1_1 4 (cut)
    with BuildSketch(Plane.XY.offset(OUTER_CORNER_TRIM_1_1_START)):
        Polygon((102, 65), (110, 57), (110, 65), align=None)
    extrude(amount=OUTER_CORNER_TRIM_1_1_4_DEPTH, mode=Mode.SUBTRACT)

    # Sketch41 → Angled_Front_Bumper (add)
    with BuildSketch(Plane.XY.offset(ANGLED_FRONT_BUMPER_START)):
        Polygon((108, -60), (114, -54), (118, -38), (118, 38), (114, 54), (108, 60), align=None)
    extrude(amount=ANGLED_FRONT_BUMPER_DEPTH)

    # Sketch42 → Angled_Rear_Bumper (add)
    with BuildSketch(Plane.XY.offset(ANGLED_REAR_BUMPER_START)):
        Polygon((-107.6, -45), (-112, -45), (-116, -39), (-116, 39), (-112, 45), (-107.6, 45), align=None)
    extrude(amount=ANGLED_REAR_BUMPER_DEPTH)


solid = part.part
